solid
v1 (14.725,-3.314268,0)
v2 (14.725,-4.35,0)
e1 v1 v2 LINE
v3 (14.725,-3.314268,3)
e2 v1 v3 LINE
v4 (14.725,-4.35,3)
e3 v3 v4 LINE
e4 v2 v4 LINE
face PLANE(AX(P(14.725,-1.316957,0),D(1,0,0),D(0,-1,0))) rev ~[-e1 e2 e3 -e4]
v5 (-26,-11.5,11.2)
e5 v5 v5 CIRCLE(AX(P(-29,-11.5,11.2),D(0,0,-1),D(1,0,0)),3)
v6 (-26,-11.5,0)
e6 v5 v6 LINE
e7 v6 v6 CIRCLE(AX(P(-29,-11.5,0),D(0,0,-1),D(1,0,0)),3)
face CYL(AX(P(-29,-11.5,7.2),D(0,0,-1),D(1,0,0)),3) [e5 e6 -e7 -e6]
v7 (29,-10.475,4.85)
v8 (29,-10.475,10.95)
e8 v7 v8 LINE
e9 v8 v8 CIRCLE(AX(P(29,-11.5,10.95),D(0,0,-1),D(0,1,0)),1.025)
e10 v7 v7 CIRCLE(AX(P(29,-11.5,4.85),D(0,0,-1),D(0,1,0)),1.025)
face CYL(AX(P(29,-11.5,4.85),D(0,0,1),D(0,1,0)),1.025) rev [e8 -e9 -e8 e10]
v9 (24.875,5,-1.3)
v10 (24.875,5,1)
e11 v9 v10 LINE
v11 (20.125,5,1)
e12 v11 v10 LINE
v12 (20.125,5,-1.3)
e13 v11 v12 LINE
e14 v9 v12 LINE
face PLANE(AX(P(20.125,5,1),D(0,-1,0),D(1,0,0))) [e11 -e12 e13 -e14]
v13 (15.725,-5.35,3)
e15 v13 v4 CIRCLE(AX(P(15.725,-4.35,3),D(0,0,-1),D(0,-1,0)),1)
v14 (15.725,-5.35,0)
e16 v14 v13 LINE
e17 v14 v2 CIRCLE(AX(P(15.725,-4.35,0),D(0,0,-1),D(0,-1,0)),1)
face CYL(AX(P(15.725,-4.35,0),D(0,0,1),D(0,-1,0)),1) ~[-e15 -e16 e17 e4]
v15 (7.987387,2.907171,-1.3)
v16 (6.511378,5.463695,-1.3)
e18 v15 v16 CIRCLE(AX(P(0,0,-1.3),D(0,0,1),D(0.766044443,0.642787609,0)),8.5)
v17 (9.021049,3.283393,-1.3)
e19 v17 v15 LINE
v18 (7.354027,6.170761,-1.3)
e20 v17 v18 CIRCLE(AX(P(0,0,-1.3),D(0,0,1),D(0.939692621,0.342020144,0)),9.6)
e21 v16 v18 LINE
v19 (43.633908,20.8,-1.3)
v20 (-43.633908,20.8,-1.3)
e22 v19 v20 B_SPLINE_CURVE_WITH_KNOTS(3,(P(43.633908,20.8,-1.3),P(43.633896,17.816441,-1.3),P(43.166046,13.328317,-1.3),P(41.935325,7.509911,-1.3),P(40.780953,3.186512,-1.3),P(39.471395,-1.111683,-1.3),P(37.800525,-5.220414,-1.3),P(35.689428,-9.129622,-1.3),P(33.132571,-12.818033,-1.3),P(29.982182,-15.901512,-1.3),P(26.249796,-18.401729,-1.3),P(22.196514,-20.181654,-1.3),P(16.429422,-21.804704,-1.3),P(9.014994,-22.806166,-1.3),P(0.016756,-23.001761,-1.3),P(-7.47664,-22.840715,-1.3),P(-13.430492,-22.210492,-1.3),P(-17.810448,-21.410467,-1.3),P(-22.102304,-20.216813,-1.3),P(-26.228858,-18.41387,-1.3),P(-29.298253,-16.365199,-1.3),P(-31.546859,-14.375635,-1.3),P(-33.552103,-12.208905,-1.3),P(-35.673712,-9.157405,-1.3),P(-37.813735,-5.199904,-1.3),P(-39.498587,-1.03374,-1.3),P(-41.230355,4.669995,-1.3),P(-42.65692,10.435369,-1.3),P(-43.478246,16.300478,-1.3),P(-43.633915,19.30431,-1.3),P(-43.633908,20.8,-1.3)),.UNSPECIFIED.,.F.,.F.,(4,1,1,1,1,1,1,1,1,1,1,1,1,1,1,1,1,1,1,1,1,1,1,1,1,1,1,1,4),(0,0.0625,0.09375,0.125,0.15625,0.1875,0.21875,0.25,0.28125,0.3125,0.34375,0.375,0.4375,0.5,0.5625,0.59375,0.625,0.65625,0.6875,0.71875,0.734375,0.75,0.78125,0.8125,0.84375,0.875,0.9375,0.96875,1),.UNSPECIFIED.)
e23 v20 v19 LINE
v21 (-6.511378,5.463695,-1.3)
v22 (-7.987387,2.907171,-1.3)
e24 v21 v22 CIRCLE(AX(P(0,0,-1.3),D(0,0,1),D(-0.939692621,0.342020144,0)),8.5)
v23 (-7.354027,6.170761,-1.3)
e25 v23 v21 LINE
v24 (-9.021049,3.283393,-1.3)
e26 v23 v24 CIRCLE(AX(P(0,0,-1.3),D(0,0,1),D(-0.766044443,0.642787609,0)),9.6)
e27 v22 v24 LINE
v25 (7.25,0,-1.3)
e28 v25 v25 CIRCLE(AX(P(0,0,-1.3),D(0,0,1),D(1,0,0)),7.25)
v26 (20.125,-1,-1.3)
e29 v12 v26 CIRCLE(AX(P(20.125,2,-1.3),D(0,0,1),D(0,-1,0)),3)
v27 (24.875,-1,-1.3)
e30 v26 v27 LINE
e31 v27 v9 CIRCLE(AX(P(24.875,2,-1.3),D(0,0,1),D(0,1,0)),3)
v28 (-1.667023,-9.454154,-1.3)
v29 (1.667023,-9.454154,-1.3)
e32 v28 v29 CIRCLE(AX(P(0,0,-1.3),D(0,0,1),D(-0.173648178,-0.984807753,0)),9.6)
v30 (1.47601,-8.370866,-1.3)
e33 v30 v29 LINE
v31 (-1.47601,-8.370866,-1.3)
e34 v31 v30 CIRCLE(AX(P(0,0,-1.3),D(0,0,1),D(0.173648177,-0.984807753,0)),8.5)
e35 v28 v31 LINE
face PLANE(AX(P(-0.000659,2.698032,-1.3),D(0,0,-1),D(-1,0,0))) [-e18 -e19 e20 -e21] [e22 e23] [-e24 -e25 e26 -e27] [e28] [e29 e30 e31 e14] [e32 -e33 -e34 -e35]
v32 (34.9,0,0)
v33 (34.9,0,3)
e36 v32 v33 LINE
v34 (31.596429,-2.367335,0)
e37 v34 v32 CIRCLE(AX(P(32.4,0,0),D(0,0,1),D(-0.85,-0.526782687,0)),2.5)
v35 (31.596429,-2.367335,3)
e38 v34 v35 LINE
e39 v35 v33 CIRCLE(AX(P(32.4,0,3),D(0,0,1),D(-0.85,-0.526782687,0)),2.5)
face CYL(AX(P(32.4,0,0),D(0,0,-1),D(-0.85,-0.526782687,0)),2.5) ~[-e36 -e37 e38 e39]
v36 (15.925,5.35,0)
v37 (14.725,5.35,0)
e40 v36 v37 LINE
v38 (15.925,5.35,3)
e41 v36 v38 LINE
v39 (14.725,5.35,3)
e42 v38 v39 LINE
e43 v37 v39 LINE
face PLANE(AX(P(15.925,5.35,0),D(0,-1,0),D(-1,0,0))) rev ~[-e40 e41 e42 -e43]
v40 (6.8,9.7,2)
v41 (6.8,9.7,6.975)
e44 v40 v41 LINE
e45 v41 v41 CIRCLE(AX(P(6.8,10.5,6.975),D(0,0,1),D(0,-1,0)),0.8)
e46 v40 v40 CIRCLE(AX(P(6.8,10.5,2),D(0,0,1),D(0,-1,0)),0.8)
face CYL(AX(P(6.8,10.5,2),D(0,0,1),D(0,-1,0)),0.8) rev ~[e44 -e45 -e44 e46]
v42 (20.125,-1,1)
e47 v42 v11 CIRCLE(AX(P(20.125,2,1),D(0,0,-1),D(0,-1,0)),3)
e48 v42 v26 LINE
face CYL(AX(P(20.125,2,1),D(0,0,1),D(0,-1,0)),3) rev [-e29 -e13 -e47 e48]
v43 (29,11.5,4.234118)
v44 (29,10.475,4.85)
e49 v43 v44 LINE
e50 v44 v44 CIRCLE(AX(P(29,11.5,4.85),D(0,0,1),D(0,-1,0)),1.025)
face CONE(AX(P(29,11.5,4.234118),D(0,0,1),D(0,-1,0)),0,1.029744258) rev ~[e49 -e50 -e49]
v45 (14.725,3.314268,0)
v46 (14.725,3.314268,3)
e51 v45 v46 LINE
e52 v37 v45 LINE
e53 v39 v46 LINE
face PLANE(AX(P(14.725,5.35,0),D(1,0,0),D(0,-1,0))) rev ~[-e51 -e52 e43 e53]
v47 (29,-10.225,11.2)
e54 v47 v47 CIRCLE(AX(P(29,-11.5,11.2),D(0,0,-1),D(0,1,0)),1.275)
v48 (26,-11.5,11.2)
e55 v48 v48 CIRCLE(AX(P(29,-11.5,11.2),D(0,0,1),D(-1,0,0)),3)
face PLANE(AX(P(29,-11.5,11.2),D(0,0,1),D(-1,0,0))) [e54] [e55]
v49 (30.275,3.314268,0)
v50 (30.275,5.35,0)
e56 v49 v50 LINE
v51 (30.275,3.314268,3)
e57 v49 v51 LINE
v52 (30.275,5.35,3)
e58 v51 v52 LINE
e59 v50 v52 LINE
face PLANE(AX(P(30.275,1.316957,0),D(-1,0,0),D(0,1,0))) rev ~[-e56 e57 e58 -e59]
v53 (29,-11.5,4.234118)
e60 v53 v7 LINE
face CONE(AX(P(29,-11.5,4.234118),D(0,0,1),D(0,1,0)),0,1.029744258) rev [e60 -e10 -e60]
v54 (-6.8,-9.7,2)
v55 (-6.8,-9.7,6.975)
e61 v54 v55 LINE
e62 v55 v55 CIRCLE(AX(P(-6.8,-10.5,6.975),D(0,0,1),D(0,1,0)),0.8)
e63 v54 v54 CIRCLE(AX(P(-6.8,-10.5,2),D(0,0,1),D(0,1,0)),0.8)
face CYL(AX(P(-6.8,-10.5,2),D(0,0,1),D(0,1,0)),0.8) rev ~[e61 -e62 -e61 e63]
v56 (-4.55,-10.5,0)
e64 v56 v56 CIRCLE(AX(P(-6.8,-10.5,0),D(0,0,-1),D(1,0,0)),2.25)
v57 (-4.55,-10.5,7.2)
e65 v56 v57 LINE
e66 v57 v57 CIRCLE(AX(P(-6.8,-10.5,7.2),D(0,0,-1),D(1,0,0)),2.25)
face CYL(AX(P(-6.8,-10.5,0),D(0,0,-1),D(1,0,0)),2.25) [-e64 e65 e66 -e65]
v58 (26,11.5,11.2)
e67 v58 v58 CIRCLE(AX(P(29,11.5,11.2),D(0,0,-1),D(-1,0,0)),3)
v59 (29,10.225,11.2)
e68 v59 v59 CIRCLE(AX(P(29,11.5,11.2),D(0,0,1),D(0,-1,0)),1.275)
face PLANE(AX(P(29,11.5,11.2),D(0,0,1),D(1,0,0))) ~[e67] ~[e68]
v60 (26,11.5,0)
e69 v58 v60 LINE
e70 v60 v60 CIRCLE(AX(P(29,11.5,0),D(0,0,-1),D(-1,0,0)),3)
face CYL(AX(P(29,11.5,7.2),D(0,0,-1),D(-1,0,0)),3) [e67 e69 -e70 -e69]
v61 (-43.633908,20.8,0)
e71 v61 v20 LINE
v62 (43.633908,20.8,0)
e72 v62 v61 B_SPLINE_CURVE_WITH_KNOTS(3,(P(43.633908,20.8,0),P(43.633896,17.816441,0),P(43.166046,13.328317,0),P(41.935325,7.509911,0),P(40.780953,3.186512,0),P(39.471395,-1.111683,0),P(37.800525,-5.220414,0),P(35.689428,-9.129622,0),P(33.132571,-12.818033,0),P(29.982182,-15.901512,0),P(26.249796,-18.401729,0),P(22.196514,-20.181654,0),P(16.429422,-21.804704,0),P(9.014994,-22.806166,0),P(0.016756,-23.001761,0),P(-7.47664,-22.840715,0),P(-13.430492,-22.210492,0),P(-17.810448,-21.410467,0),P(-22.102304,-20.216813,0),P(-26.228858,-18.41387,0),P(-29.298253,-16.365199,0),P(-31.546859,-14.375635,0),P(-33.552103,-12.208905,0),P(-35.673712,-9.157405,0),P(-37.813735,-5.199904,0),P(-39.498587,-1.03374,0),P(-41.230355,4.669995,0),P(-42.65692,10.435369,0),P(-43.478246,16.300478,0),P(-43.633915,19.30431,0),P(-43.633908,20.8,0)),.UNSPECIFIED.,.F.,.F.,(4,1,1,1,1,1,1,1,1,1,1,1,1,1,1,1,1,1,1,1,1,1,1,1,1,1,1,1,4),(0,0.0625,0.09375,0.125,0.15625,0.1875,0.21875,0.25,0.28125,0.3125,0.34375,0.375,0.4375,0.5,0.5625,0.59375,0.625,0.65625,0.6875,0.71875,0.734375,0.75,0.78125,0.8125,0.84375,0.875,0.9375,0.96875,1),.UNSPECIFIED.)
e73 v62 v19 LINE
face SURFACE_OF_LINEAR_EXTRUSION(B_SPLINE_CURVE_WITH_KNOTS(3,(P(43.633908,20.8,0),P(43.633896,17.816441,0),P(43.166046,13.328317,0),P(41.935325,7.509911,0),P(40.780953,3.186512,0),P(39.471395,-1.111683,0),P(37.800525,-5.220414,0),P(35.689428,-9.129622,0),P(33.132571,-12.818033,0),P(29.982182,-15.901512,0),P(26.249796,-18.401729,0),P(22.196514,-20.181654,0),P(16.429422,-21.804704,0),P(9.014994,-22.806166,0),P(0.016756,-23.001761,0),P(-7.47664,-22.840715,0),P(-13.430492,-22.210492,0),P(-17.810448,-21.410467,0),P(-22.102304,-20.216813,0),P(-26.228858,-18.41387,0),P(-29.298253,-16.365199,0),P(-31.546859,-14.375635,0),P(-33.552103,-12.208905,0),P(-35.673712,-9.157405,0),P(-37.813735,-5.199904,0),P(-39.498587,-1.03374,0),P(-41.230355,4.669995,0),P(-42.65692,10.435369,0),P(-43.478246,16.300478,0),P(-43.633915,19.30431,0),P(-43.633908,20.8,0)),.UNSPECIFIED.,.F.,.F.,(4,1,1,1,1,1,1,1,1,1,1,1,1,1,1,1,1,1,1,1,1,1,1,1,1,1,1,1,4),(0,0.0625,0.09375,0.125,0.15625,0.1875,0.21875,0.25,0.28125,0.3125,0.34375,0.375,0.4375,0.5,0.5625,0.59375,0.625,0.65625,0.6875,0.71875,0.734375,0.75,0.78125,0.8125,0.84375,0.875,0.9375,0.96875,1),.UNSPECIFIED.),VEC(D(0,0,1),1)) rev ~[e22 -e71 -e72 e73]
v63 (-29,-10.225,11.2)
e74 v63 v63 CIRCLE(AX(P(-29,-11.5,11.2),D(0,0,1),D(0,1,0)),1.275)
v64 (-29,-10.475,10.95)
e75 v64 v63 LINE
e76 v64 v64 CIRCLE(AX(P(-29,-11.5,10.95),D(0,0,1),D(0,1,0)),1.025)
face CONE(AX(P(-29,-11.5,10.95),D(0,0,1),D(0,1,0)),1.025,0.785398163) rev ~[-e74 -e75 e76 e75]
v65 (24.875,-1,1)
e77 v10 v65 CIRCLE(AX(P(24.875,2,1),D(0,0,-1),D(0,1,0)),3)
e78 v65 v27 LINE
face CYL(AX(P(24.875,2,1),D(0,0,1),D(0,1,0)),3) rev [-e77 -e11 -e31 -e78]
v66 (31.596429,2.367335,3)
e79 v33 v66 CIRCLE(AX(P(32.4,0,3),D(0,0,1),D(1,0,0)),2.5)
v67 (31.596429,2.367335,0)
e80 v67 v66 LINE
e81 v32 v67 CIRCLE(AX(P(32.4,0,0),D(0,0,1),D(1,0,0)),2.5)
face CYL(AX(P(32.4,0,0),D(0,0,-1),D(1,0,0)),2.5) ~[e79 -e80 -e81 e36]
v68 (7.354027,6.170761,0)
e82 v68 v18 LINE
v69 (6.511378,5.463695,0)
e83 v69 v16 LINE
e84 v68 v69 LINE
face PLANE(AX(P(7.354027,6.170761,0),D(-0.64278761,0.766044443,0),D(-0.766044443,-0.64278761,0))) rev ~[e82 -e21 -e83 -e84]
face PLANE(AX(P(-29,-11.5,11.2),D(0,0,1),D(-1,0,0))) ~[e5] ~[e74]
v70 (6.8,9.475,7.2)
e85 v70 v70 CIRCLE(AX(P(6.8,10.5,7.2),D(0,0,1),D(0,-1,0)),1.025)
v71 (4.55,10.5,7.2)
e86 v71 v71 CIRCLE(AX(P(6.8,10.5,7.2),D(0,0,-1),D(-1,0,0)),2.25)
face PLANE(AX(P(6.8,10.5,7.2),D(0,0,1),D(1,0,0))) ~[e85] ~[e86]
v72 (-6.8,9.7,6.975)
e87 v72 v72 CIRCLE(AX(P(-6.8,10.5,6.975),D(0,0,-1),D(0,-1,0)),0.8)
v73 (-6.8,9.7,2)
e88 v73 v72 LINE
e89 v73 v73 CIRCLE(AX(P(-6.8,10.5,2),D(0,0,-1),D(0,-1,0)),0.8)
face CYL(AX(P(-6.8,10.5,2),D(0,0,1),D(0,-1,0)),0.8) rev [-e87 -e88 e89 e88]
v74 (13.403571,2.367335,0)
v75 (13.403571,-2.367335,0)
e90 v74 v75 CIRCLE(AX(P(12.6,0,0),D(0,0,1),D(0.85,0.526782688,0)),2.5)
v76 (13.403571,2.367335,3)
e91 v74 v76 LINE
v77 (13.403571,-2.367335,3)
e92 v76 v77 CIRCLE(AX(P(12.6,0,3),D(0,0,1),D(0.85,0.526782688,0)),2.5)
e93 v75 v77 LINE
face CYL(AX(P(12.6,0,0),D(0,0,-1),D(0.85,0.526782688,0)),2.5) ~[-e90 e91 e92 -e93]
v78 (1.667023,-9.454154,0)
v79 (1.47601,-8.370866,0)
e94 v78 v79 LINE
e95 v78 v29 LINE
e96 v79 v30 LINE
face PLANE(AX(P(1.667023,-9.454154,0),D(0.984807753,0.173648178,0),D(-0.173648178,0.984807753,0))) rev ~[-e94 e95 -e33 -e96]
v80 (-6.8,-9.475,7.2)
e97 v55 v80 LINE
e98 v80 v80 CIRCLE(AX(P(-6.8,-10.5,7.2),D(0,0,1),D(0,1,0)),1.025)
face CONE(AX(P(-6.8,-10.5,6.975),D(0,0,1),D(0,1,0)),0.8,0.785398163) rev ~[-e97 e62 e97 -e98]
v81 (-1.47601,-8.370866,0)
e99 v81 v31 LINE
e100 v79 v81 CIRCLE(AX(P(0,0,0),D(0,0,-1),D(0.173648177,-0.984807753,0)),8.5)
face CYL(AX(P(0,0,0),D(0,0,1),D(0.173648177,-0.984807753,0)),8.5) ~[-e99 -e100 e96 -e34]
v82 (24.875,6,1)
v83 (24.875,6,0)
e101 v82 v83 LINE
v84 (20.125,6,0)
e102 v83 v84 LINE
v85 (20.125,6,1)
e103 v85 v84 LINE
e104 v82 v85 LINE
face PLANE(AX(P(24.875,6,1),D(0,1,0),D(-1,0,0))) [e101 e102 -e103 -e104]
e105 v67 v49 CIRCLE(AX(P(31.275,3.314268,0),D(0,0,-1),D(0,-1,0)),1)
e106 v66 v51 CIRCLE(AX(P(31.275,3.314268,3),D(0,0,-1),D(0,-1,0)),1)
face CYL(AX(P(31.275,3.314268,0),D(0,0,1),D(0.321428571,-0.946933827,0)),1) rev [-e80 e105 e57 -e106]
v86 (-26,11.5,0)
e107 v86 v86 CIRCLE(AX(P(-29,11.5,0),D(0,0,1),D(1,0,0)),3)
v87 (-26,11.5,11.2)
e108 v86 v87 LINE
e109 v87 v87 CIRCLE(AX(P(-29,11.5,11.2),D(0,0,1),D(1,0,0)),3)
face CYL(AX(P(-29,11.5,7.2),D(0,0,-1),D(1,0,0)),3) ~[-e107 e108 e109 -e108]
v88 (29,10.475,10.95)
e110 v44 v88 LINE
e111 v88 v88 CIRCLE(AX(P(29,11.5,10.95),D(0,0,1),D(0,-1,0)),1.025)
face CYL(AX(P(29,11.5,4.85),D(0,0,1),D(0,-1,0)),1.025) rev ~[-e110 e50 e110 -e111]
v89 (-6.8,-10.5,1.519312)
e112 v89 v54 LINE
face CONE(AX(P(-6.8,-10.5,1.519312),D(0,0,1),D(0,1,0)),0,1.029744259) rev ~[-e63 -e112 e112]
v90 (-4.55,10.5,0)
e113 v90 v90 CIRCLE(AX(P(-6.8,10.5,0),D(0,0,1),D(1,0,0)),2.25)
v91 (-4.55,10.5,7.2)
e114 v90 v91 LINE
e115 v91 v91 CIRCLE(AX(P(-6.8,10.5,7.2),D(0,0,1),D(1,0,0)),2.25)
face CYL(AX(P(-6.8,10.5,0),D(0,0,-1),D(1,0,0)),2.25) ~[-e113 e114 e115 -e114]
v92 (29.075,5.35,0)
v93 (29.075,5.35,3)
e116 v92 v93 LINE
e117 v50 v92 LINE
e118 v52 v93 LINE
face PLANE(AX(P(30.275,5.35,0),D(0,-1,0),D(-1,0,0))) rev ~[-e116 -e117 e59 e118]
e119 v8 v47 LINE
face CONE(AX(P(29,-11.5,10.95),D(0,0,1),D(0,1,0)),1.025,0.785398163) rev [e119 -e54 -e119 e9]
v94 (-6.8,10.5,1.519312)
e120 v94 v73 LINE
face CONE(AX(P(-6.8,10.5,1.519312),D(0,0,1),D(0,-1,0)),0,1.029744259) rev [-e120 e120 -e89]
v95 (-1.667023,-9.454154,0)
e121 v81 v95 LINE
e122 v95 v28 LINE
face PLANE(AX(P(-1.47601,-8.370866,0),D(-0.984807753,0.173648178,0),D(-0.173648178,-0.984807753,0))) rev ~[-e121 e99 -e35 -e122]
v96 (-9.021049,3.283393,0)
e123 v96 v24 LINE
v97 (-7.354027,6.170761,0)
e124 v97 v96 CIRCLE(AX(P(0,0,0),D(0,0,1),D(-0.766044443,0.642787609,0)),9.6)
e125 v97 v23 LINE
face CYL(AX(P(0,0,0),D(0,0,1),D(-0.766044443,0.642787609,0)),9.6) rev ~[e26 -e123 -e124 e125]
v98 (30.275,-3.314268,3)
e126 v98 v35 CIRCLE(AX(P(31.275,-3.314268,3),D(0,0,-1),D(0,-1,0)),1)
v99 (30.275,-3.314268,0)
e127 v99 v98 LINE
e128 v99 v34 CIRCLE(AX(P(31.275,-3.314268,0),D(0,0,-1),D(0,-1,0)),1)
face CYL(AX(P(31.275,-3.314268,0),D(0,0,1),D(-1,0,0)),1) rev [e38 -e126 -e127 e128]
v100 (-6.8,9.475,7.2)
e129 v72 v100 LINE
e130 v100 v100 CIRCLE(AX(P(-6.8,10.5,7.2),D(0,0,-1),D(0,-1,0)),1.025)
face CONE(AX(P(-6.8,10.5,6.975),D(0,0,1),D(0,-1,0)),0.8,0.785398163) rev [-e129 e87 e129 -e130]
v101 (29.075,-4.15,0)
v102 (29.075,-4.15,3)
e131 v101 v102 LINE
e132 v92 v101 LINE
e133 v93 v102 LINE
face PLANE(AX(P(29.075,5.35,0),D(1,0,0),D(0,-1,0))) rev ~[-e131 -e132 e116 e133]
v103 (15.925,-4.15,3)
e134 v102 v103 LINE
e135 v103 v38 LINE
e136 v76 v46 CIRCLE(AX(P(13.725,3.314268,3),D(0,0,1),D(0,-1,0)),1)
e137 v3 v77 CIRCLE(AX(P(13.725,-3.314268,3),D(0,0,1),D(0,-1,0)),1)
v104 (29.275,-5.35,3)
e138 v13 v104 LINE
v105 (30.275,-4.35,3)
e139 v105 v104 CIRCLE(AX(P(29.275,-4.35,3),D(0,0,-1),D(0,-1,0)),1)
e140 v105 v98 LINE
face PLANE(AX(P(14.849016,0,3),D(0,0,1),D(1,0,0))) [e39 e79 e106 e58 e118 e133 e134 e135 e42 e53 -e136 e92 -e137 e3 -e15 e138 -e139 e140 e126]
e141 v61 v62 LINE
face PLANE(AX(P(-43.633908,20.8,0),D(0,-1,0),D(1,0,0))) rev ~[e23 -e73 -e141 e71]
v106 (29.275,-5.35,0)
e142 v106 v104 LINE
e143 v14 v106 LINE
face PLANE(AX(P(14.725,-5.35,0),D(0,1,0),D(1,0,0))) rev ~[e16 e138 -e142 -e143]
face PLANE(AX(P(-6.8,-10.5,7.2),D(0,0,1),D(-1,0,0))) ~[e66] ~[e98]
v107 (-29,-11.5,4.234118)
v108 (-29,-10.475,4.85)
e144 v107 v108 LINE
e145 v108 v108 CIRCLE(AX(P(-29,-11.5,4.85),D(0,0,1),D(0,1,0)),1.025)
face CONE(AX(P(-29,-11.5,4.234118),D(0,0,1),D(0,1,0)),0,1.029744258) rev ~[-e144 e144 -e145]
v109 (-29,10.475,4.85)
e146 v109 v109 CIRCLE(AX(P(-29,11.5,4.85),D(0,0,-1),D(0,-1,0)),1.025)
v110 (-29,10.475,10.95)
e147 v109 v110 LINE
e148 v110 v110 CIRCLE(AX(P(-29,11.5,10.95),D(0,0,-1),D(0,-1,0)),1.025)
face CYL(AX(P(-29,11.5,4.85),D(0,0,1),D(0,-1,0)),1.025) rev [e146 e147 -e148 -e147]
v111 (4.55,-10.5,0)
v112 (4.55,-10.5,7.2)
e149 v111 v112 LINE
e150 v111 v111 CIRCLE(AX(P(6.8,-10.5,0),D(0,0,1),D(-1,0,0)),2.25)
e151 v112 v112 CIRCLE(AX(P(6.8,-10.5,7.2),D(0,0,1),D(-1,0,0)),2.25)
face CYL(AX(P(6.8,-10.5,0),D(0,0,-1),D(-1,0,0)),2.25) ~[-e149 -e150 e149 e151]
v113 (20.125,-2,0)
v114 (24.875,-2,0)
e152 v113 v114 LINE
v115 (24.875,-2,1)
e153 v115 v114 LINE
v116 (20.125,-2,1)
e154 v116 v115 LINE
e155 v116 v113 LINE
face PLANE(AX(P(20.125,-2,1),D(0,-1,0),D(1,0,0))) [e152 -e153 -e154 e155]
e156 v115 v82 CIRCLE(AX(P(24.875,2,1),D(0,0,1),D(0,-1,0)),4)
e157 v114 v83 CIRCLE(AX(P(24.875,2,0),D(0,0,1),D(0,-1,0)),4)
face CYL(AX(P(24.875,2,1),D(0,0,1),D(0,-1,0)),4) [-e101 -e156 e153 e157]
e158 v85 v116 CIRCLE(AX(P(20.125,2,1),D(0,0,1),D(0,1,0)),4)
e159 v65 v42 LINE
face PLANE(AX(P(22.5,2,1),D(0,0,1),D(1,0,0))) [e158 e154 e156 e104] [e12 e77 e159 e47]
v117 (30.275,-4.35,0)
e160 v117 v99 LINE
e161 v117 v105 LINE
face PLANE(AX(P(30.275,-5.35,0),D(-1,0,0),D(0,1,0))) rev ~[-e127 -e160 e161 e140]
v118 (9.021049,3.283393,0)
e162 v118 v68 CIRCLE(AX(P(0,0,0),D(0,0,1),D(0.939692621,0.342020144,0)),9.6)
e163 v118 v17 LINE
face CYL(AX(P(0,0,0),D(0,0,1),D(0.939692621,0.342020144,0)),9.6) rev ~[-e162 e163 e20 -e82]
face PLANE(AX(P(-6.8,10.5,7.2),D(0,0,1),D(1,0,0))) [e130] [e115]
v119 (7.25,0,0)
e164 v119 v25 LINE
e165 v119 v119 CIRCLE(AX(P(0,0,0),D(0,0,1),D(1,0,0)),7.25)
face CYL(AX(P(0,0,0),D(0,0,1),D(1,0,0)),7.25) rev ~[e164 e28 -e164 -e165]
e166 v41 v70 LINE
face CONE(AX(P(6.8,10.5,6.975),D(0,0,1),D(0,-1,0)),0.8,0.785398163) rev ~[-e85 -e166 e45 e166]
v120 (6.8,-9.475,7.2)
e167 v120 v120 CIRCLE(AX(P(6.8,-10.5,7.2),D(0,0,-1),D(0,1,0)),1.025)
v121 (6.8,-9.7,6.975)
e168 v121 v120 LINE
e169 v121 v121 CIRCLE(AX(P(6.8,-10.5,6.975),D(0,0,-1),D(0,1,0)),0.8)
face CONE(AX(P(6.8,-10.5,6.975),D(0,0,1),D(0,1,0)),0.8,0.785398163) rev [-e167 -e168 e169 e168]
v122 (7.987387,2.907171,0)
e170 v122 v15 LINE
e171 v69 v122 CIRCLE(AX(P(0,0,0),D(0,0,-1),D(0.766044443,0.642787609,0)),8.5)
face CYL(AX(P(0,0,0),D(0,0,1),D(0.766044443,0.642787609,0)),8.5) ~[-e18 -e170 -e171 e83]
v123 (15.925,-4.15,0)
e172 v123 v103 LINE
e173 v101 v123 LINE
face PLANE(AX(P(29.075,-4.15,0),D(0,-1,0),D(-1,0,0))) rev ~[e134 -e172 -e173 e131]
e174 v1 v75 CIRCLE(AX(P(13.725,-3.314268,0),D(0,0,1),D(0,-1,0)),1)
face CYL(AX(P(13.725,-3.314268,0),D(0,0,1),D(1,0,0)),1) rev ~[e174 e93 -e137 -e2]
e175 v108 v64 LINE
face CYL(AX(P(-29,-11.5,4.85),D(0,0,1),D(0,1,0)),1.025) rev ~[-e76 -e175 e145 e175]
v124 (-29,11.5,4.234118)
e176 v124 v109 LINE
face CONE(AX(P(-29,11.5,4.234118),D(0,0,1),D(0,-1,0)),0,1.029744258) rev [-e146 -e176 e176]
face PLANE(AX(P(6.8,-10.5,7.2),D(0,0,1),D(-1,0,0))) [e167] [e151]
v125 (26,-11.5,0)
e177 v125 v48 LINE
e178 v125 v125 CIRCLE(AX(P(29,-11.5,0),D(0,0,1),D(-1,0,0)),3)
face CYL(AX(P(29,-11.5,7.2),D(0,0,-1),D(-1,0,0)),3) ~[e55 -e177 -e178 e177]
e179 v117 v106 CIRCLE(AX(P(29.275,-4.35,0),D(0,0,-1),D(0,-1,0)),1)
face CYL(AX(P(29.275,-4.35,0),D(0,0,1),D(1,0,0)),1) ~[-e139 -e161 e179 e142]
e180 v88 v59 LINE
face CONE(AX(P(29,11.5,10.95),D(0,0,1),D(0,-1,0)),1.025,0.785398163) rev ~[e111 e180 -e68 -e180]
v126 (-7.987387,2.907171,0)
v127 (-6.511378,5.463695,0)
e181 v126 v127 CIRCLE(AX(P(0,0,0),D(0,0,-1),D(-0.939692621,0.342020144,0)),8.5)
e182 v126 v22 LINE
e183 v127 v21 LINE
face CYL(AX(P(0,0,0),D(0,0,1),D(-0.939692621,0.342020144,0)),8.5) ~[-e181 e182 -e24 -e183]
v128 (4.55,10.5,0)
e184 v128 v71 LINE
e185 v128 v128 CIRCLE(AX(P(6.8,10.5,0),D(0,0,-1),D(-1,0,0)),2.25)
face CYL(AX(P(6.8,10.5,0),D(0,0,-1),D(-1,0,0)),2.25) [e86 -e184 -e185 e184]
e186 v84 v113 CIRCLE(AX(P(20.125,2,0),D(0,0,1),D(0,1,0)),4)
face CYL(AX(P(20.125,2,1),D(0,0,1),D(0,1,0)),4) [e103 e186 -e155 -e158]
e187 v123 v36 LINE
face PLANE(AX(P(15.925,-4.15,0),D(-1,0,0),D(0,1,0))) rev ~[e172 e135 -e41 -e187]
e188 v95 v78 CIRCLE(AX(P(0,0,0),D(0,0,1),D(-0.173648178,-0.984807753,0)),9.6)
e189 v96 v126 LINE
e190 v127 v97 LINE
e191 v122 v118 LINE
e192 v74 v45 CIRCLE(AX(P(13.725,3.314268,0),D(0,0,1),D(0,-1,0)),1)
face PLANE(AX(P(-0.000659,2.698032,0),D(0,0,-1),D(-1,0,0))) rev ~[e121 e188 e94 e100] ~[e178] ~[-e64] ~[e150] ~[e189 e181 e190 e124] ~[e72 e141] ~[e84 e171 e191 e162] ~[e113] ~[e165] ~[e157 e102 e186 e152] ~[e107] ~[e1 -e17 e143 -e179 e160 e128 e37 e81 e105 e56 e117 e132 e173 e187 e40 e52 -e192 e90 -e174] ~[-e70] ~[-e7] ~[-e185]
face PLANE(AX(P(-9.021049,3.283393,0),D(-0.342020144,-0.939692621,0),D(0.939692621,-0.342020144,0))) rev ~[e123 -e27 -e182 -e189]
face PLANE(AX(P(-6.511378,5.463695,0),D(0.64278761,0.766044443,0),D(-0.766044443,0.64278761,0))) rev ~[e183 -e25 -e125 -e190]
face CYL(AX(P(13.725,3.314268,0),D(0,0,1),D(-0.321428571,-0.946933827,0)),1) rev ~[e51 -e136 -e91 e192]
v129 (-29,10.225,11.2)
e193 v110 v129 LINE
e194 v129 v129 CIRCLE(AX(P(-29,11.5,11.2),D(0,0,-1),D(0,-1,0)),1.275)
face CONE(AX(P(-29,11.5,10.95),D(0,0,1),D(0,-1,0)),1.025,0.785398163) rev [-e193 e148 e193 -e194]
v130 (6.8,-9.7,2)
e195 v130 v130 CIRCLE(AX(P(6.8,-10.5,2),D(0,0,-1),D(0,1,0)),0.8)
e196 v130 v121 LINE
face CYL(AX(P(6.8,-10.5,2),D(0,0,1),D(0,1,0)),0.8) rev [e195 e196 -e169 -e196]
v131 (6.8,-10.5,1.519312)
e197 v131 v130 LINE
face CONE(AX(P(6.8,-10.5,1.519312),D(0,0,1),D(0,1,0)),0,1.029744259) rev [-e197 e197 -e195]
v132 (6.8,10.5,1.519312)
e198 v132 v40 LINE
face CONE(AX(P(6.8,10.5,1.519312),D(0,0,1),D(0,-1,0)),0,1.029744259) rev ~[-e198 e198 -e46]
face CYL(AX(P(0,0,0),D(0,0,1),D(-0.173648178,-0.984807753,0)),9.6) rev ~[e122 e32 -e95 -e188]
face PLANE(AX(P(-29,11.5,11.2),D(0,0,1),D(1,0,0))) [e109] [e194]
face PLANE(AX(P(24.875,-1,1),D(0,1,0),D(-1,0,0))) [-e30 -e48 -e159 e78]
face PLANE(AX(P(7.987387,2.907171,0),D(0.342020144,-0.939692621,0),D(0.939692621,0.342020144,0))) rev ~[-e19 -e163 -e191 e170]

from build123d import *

# Parameters (mm, degrees)
EXTRUDE_1_DEPTH            = 1.3
SKETCH_2_R                 = 7.25
CUT_EXTRUDE_1_DEPTH        = 50.312390323
SKETCH_3_R                 = 3
SKETCH_3_R_2               = 2.25
EXTRUDE_2_DEPTH            = 7.2
SKETCH_4_R                 = 3
EXTRUDE_3_DEPTH            = 4
MIRROR_2_COPY_1_SKETCH_R   = 3
MIRROR_2_COPY_1_SKETCH_R_2 = 2.25
MIRROR_2_COPY_1_DEPTH      = 7.2
MIRROR_2_COPY_2_SKETCH_R   = 3
MIRROR_2_COPY_2_DEPTH      = 4
EXTRUDE_4_DEPTH            = 3
FILLET_1_R                 = 1
FILLET_2_R                 = 1
EXTRUDE_START              = 1
EXTRUDE_5_DEPTH            = 1
CUT_EXTRUDE_2_DEPTH        = 51.55157603


with BuildPart() as part:
    # 草图1 → 凸台-拉伸1 (new body)
    with BuildSketch(Plane.XY):
        with BuildLine():
            Line((-43.633908228, 20.8), (43.633908228, 20.8))
            add(Edge.make_bspline(
                [(43.633908228, 20.8), (43.633896186, 17.816441154), (43.166045606, 13.328317386), (41.935324687, 7.509911363), (40.780952583, 3.186512197), (39.471395291, -1.111683209), (37.800525429, -5.22041407), (35.689427738, -9.129621878), (33.132571088, -12.818032554), (29.982182395, -15.901512088), (26.249796115, -18.401728658), (22.196514099, -20.181654454), (16.429421746, -21.80470371), (9.014993789, -22.806165917), (0.016756126, -23.00176122), (-7.476640254, -22.840714569), (-13.430491813, -22.21049193), (-17.810447542, -21.410467341), (-22.102304365, -20.216812762), (-26.228858355, -18.41387049), (-29.298252959, -16.365199214), (-31.546858625, -14.375635283), (-33.552102976, -12.208905462), (-35.673711859, -9.157404868), (-37.81373488, -5.199904301), (-39.498586631, -1.033740187), (-41.230355142, 4.669994883), (-42.656919664, 10.435368542), (-43.478245905, 16.300477659), (-43.633914514, 19.304309804), (-43.633908228, 20.8)],
                knots=[0, 0, 0, 0, 0.0625, 0.09375, 0.125, 0.15625, 0.1875, 0.21875, 0.25, 0.28125, 0.3125, 0.34375, 0.375, 0.4375, 0.5, 0.5625, 0.59375, 0.625, 0.65625, 0.6875, 0.71875, 0.734375, 0.75, 0.78125, 0.8125, 0.84375, 0.875, 0.9375, 0.96875, 1, 1, 1, 1], degree=3))
        make_face()
    extrude(amount=-EXTRUDE_1_DEPTH)

    # 草图2 → 切除-拉伸1 (cut, through all)
    with BuildSketch(Plane.XY):
        Circle(SKETCH_2_R)
        with BuildLine():
            Line((20.125, 5), (24.875, 5))
            ThreePointArc((24.875, 5), (27.875, 2), (24.875, -1))
            Line((24.875, -1), (20.125, -1))
            ThreePointArc((20.125, -1), (17.125, 2), (20.125, 5))
        make_face()
    extrude(amount=-CUT_EXTRUDE_1_DEPTH, mode=Mode.SUBTRACT)

    # 草图3 → 凸台-拉伸2 (add)
    with BuildSketch(Plane.XY):
        with Locations((-29, 11.5)):
            Circle(SKETCH_3_R)
        with Locations((-6.8, 10.5)):
            Circle(SKETCH_3_R_2)
    extrude_2 = extrude(amount=EXTRUDE_2_DEPTH)

    # 草图4 → 凸台-拉伸3 (add)
    with BuildSketch(Plane.XY.offset(7.2)):
        with Locations((-29, 11.5)):
            Circle(SKETCH_4_R)
    extrude_3 = extrude(amount=EXTRUDE_3_DEPTH)

    # 草图6 → M2 螺纹孔1 (revolve, cut)
    with BuildSketch(Plane(origin=(-6.8, 10.5, 7.2), x_dir=(0, -1, 0), z_dir=(1, 0, 0))):
        Polygon((0, 0), (0, 5.680688495), (0.8, 5.2), (0.8, 0.225), (1.025, 0), align=None)
    hole_wizard_m2_1 = revolve(axis=Axis((-6.8, 10.5, 13.55), (0, 0, -1)), mode=Mode.SUBTRACT)

    # 草图8 → M2.5 螺纹孔1 (revolve, cut)
    with BuildSketch(Plane(origin=(-29, 11.5, 11.2), x_dir=(0, -1, 0), z_dir=(1, 0, 0))):
        Polygon((0, 0), (0, 6.965882135), (1.025, 6.35), (1.025, 0.25), (1.275, 0), align=None)
    hole_wizard_m2_5_1 = revolve(axis=Axis((-29, 11.5, 17.55), (0, 0, -1)), mode=Mode.SUBTRACT)

    # 镜向1: 凸台-拉伸2, 凸台-拉伸3, M2 螺纹孔1, M2.5 螺纹孔1 across plane
    add(extrude_2.mirror(Plane.ZX))
    add(extrude_3.mirror(Plane.ZX))
    add(hole_wizard_m2_1.mirror(Plane.ZX), mode=Mode.SUBTRACT)
    add(hole_wizard_m2_5_1.mirror(Plane.ZX), mode=Mode.SUBTRACT)

    # 镜向2: 凸台-拉伸2, 凸台-拉伸3, M2 螺纹孔1, M2.5 螺纹孔1 across plane
    add(extrude_2.mirror(Plane(origin=(0, 0, 0), x_dir=(0, 0, 1), z_dir=(1, 0, 0))))
    add(extrude_3.mirror(Plane(origin=(0, 0, 0), x_dir=(0, 0, 1), z_dir=(1, 0, 0))))
    add(hole_wizard_m2_1.mirror(Plane(origin=(0, 0, 0), x_dir=(0, 0, 1), z_dir=(1, 0, 0))), mode=Mode.SUBTRACT)
    add(hole_wizard_m2_5_1.mirror(Plane(origin=(0, 0, 0), x_dir=(0, 0, 1), z_dir=(1, 0, 0))), mode=Mode.SUBTRACT)

    # 镜向2 copy 1 sketch → 镜向2 copy 1 (add)
    with BuildSketch(Plane(origin=(0, 0, 0), x_dir=(-1, 0, 0), z_dir=(0, 0, 1))):
        with Locations((-29, 11.5)):
            Circle(MIRROR_2_COPY_1_SKETCH_R)
        with Locations((-6.8, 10.5)):
            Circle(MIRROR_2_COPY_1_SKETCH_R_2)
    extrude(amount=MIRROR_2_COPY_1_DEPTH)

    # 镜向2 copy 2 sketch → 镜向2 copy 2 (add)
    with BuildSketch(Plane(origin=(0, 0, 7.2), x_dir=(-1, 0, 0), z_dir=(0, 0, 1))):
        with Locations((-29, 11.5)):
            Circle(MIRROR_2_COPY_2_SKETCH_R)
    extrude(amount=MIRROR_2_COPY_2_DEPTH)

    # 镜向2 copy 3 sketch → 镜向2 copy 3 (revolve, cut)
    with BuildSketch(Plane(origin=(6.8, -10.5, 7.2), x_dir=(0, 1, 0), z_dir=(-1, 0, 0))):
        Polygon((0, 0), (0, 5.680688495), (0.8, 5.2), (0.8, 0.225), (1.025, 0), align=None)
    revolve(axis=Axis((6.8, -10.5, 13.55), (0, 0, -1)), mode=Mode.SUBTRACT)

    # 镜向2 copy 4 sketch → 镜向2 copy 4 (revolve, cut)
    with BuildSketch(Plane(origin=(29, -11.5, 11.2), x_dir=(0, 1, 0), z_dir=(-1, 0, 0))):
        Polygon((0, 0), (0, 6.965882135), (1.025, 6.35), (1.025, 0.25), (1.275, 0), align=None)
    revolve(axis=Axis((29, -11.5, 17.55), (0, 0, -1)), mode=Mode.SUBTRACT)

    # 草图9 → 凸台-拉伸4 (add)
    with BuildSketch(Plane.XY):
        with BuildLine():
            ThreePointArc((15.1, 0), (15.004423008, 0.684653197), (14.725, 1.316956719))
            Line((14.725, 1.316956719), (14.725, -1.316956719))
            ThreePointArc((14.725, -1.316956719), (15.004423008, -0.684653197), (15.1, 0))
        make_face()
        with BuildLine():
            Line((14.725, -1.316956719), (14.725, 1.316956719))
            ThreePointArc((14.725, 1.316956719), (10.1, 0), (14.725, -1.316956719))
        make_face()
        with BuildLine():
            Line((15.925, -4.15), (15.925, 5.35))
            Line((15.925, 5.35), (14.725, 5.35))
            Line((14.725, 5.35), (14.725, 1.316956719))
            ThreePointArc((14.725, 1.316956719), (15.004423008, 0.684653197), (15.1, 0))
            ThreePointArc((15.1, 0), (15.004423008, -0.684653197), (14.725, -1.316956719))
            Line((14.725, -1.316956719), (14.725, -5.35))
            Line((14.725, -5.35), (30.275, -5.35))
            Line((30.275, -5.35), (30.275, -1.316956719))
            ThreePointArc((30.275, -1.316956719), (29.9, 0), (30.275, 1.316956719))
            Line((30.275, 1.316956719), (30.275, 5.35))
            Line((30.275, 5.35), (29.075, 5.35))
            Line((29.075, 5.35), (29.075, -4.15))
            Line((29.075, -4.15), (15.925, -4.15))
        make_face()
        with BuildLine():
            ThreePointArc((34.9, 0), (33.084653197, 2.404423008), (30.275, 1.316956719))
            Line((30.275, 1.316956719), (30.275, -1.316956719))
            ThreePointArc((30.275, -1.316956719), (33.084653197, -2.404423008), (34.9, 0))
        make_face()
        with BuildLine():
            Line((30.275, -1.316956719), (30.275, 1.316956719))
            ThreePointArc((30.275, 1.316956719), (29.9, 0), (30.275, -1.316956719))
        make_face()
    extrude(amount=EXTRUDE_4_DEPTH)

    # 圆角1
    fillet_1_edges = [part.edges().sort_by_distance(p)[0] for p in [
        (14.725, -5.35, 1.5),
        (30.275, -5.35, 1.5),
    ]]
    fillet(fillet_1_edges, radius=FILLET_1_R)

    # 圆角2
    fillet_2_edges = [part.edges().sort_by_distance(p)[0] for p in [
        (14.725, 1.316956719, 1.5),
        (14.725, -1.316956719, 1.5),
        (30.275, -1.316956719, 1.5),
        (30.275, 1.316956719, 1.5),
    ]]
    fillet(fillet_2_edges, radius=FILLET_2_R)

    # 草图10 → 凸台-拉伸5 (add)
    with BuildSketch(Plane.XY.offset(EXTRUDE_START)):
        with BuildLine():
            Line((20.125, -2), (24.875, -2))
            ThreePointArc((24.875, -2), (28.875, 2), (24.875, 6))
            Line((24.875, 6), (20.125, 6))
            ThreePointArc((20.125, 6), (16.125, 2), (20.125, -2))
        make_face()
        with BuildLine():
            ThreePointArc((24.875, 5), (27.875, 2), (24.875, -1))
            Line((24.875, -1), (20.125, -1))
            ThreePointArc((20.125, -1), (17.125, 2), (20.125, 5))
            Line((20.125, 5), (24.875, 5))
        make_face(mode=Mode.SUBTRACT)
    extrude(amount=-EXTRUDE_5_DEPTH)

    # 草图11 → 切除-拉伸2 (cut, through all)
    with BuildSketch(Plane.XY):
        with BuildLine():
            ThreePointArc((-7.987387277, 2.907171218), (-7.361215932, 4.25), (-6.511377767, 5.463694682))
            Line((-6.511377767, 5.463694682), (-7.354026654, 6.170761053))
            ThreePointArc((-7.354026654, 6.170761053), (-8.313843876, 4.8), (-9.02104916, 3.283393376))
            Line((-9.02104916, 3.283393376), (-7.987387277, 2.907171218))
        make_face()
        with BuildLine():
            ThreePointArc((6.511377767, 5.463694682), (7.361215932, 4.25), (7.987387277, 2.907171218))
            Line((7.987387277, 2.907171218), (9.02104916, 3.283393376))
            ThreePointArc((9.02104916, 3.283393376), (8.313843876, 4.8), (7.354026654, 6.170761053))
            Line((7.354026654, 6.170761053), (6.511377767, 5.463694682))
        make_face()
        with BuildLine():
            ThreePointArc((1.47600951, -8.370865901), (0, -8.5), (-1.47600951, -8.370865901))
            Line((-1.47600951, -8.370865901), (-1.667022506, -9.454154429))
            ThreePointArc((-1.667022506, -9.454154429), (0, -9.6), (1.667022506, -9.454154429))
            Line((1.667022506, -9.454154429), (1.47600951, -8.370865901))
        make_face()
    extrude(amount=-CUT_EXTRUDE_2_DEPTH, mode=Mode.SUBTRACT)


solid = part.part
